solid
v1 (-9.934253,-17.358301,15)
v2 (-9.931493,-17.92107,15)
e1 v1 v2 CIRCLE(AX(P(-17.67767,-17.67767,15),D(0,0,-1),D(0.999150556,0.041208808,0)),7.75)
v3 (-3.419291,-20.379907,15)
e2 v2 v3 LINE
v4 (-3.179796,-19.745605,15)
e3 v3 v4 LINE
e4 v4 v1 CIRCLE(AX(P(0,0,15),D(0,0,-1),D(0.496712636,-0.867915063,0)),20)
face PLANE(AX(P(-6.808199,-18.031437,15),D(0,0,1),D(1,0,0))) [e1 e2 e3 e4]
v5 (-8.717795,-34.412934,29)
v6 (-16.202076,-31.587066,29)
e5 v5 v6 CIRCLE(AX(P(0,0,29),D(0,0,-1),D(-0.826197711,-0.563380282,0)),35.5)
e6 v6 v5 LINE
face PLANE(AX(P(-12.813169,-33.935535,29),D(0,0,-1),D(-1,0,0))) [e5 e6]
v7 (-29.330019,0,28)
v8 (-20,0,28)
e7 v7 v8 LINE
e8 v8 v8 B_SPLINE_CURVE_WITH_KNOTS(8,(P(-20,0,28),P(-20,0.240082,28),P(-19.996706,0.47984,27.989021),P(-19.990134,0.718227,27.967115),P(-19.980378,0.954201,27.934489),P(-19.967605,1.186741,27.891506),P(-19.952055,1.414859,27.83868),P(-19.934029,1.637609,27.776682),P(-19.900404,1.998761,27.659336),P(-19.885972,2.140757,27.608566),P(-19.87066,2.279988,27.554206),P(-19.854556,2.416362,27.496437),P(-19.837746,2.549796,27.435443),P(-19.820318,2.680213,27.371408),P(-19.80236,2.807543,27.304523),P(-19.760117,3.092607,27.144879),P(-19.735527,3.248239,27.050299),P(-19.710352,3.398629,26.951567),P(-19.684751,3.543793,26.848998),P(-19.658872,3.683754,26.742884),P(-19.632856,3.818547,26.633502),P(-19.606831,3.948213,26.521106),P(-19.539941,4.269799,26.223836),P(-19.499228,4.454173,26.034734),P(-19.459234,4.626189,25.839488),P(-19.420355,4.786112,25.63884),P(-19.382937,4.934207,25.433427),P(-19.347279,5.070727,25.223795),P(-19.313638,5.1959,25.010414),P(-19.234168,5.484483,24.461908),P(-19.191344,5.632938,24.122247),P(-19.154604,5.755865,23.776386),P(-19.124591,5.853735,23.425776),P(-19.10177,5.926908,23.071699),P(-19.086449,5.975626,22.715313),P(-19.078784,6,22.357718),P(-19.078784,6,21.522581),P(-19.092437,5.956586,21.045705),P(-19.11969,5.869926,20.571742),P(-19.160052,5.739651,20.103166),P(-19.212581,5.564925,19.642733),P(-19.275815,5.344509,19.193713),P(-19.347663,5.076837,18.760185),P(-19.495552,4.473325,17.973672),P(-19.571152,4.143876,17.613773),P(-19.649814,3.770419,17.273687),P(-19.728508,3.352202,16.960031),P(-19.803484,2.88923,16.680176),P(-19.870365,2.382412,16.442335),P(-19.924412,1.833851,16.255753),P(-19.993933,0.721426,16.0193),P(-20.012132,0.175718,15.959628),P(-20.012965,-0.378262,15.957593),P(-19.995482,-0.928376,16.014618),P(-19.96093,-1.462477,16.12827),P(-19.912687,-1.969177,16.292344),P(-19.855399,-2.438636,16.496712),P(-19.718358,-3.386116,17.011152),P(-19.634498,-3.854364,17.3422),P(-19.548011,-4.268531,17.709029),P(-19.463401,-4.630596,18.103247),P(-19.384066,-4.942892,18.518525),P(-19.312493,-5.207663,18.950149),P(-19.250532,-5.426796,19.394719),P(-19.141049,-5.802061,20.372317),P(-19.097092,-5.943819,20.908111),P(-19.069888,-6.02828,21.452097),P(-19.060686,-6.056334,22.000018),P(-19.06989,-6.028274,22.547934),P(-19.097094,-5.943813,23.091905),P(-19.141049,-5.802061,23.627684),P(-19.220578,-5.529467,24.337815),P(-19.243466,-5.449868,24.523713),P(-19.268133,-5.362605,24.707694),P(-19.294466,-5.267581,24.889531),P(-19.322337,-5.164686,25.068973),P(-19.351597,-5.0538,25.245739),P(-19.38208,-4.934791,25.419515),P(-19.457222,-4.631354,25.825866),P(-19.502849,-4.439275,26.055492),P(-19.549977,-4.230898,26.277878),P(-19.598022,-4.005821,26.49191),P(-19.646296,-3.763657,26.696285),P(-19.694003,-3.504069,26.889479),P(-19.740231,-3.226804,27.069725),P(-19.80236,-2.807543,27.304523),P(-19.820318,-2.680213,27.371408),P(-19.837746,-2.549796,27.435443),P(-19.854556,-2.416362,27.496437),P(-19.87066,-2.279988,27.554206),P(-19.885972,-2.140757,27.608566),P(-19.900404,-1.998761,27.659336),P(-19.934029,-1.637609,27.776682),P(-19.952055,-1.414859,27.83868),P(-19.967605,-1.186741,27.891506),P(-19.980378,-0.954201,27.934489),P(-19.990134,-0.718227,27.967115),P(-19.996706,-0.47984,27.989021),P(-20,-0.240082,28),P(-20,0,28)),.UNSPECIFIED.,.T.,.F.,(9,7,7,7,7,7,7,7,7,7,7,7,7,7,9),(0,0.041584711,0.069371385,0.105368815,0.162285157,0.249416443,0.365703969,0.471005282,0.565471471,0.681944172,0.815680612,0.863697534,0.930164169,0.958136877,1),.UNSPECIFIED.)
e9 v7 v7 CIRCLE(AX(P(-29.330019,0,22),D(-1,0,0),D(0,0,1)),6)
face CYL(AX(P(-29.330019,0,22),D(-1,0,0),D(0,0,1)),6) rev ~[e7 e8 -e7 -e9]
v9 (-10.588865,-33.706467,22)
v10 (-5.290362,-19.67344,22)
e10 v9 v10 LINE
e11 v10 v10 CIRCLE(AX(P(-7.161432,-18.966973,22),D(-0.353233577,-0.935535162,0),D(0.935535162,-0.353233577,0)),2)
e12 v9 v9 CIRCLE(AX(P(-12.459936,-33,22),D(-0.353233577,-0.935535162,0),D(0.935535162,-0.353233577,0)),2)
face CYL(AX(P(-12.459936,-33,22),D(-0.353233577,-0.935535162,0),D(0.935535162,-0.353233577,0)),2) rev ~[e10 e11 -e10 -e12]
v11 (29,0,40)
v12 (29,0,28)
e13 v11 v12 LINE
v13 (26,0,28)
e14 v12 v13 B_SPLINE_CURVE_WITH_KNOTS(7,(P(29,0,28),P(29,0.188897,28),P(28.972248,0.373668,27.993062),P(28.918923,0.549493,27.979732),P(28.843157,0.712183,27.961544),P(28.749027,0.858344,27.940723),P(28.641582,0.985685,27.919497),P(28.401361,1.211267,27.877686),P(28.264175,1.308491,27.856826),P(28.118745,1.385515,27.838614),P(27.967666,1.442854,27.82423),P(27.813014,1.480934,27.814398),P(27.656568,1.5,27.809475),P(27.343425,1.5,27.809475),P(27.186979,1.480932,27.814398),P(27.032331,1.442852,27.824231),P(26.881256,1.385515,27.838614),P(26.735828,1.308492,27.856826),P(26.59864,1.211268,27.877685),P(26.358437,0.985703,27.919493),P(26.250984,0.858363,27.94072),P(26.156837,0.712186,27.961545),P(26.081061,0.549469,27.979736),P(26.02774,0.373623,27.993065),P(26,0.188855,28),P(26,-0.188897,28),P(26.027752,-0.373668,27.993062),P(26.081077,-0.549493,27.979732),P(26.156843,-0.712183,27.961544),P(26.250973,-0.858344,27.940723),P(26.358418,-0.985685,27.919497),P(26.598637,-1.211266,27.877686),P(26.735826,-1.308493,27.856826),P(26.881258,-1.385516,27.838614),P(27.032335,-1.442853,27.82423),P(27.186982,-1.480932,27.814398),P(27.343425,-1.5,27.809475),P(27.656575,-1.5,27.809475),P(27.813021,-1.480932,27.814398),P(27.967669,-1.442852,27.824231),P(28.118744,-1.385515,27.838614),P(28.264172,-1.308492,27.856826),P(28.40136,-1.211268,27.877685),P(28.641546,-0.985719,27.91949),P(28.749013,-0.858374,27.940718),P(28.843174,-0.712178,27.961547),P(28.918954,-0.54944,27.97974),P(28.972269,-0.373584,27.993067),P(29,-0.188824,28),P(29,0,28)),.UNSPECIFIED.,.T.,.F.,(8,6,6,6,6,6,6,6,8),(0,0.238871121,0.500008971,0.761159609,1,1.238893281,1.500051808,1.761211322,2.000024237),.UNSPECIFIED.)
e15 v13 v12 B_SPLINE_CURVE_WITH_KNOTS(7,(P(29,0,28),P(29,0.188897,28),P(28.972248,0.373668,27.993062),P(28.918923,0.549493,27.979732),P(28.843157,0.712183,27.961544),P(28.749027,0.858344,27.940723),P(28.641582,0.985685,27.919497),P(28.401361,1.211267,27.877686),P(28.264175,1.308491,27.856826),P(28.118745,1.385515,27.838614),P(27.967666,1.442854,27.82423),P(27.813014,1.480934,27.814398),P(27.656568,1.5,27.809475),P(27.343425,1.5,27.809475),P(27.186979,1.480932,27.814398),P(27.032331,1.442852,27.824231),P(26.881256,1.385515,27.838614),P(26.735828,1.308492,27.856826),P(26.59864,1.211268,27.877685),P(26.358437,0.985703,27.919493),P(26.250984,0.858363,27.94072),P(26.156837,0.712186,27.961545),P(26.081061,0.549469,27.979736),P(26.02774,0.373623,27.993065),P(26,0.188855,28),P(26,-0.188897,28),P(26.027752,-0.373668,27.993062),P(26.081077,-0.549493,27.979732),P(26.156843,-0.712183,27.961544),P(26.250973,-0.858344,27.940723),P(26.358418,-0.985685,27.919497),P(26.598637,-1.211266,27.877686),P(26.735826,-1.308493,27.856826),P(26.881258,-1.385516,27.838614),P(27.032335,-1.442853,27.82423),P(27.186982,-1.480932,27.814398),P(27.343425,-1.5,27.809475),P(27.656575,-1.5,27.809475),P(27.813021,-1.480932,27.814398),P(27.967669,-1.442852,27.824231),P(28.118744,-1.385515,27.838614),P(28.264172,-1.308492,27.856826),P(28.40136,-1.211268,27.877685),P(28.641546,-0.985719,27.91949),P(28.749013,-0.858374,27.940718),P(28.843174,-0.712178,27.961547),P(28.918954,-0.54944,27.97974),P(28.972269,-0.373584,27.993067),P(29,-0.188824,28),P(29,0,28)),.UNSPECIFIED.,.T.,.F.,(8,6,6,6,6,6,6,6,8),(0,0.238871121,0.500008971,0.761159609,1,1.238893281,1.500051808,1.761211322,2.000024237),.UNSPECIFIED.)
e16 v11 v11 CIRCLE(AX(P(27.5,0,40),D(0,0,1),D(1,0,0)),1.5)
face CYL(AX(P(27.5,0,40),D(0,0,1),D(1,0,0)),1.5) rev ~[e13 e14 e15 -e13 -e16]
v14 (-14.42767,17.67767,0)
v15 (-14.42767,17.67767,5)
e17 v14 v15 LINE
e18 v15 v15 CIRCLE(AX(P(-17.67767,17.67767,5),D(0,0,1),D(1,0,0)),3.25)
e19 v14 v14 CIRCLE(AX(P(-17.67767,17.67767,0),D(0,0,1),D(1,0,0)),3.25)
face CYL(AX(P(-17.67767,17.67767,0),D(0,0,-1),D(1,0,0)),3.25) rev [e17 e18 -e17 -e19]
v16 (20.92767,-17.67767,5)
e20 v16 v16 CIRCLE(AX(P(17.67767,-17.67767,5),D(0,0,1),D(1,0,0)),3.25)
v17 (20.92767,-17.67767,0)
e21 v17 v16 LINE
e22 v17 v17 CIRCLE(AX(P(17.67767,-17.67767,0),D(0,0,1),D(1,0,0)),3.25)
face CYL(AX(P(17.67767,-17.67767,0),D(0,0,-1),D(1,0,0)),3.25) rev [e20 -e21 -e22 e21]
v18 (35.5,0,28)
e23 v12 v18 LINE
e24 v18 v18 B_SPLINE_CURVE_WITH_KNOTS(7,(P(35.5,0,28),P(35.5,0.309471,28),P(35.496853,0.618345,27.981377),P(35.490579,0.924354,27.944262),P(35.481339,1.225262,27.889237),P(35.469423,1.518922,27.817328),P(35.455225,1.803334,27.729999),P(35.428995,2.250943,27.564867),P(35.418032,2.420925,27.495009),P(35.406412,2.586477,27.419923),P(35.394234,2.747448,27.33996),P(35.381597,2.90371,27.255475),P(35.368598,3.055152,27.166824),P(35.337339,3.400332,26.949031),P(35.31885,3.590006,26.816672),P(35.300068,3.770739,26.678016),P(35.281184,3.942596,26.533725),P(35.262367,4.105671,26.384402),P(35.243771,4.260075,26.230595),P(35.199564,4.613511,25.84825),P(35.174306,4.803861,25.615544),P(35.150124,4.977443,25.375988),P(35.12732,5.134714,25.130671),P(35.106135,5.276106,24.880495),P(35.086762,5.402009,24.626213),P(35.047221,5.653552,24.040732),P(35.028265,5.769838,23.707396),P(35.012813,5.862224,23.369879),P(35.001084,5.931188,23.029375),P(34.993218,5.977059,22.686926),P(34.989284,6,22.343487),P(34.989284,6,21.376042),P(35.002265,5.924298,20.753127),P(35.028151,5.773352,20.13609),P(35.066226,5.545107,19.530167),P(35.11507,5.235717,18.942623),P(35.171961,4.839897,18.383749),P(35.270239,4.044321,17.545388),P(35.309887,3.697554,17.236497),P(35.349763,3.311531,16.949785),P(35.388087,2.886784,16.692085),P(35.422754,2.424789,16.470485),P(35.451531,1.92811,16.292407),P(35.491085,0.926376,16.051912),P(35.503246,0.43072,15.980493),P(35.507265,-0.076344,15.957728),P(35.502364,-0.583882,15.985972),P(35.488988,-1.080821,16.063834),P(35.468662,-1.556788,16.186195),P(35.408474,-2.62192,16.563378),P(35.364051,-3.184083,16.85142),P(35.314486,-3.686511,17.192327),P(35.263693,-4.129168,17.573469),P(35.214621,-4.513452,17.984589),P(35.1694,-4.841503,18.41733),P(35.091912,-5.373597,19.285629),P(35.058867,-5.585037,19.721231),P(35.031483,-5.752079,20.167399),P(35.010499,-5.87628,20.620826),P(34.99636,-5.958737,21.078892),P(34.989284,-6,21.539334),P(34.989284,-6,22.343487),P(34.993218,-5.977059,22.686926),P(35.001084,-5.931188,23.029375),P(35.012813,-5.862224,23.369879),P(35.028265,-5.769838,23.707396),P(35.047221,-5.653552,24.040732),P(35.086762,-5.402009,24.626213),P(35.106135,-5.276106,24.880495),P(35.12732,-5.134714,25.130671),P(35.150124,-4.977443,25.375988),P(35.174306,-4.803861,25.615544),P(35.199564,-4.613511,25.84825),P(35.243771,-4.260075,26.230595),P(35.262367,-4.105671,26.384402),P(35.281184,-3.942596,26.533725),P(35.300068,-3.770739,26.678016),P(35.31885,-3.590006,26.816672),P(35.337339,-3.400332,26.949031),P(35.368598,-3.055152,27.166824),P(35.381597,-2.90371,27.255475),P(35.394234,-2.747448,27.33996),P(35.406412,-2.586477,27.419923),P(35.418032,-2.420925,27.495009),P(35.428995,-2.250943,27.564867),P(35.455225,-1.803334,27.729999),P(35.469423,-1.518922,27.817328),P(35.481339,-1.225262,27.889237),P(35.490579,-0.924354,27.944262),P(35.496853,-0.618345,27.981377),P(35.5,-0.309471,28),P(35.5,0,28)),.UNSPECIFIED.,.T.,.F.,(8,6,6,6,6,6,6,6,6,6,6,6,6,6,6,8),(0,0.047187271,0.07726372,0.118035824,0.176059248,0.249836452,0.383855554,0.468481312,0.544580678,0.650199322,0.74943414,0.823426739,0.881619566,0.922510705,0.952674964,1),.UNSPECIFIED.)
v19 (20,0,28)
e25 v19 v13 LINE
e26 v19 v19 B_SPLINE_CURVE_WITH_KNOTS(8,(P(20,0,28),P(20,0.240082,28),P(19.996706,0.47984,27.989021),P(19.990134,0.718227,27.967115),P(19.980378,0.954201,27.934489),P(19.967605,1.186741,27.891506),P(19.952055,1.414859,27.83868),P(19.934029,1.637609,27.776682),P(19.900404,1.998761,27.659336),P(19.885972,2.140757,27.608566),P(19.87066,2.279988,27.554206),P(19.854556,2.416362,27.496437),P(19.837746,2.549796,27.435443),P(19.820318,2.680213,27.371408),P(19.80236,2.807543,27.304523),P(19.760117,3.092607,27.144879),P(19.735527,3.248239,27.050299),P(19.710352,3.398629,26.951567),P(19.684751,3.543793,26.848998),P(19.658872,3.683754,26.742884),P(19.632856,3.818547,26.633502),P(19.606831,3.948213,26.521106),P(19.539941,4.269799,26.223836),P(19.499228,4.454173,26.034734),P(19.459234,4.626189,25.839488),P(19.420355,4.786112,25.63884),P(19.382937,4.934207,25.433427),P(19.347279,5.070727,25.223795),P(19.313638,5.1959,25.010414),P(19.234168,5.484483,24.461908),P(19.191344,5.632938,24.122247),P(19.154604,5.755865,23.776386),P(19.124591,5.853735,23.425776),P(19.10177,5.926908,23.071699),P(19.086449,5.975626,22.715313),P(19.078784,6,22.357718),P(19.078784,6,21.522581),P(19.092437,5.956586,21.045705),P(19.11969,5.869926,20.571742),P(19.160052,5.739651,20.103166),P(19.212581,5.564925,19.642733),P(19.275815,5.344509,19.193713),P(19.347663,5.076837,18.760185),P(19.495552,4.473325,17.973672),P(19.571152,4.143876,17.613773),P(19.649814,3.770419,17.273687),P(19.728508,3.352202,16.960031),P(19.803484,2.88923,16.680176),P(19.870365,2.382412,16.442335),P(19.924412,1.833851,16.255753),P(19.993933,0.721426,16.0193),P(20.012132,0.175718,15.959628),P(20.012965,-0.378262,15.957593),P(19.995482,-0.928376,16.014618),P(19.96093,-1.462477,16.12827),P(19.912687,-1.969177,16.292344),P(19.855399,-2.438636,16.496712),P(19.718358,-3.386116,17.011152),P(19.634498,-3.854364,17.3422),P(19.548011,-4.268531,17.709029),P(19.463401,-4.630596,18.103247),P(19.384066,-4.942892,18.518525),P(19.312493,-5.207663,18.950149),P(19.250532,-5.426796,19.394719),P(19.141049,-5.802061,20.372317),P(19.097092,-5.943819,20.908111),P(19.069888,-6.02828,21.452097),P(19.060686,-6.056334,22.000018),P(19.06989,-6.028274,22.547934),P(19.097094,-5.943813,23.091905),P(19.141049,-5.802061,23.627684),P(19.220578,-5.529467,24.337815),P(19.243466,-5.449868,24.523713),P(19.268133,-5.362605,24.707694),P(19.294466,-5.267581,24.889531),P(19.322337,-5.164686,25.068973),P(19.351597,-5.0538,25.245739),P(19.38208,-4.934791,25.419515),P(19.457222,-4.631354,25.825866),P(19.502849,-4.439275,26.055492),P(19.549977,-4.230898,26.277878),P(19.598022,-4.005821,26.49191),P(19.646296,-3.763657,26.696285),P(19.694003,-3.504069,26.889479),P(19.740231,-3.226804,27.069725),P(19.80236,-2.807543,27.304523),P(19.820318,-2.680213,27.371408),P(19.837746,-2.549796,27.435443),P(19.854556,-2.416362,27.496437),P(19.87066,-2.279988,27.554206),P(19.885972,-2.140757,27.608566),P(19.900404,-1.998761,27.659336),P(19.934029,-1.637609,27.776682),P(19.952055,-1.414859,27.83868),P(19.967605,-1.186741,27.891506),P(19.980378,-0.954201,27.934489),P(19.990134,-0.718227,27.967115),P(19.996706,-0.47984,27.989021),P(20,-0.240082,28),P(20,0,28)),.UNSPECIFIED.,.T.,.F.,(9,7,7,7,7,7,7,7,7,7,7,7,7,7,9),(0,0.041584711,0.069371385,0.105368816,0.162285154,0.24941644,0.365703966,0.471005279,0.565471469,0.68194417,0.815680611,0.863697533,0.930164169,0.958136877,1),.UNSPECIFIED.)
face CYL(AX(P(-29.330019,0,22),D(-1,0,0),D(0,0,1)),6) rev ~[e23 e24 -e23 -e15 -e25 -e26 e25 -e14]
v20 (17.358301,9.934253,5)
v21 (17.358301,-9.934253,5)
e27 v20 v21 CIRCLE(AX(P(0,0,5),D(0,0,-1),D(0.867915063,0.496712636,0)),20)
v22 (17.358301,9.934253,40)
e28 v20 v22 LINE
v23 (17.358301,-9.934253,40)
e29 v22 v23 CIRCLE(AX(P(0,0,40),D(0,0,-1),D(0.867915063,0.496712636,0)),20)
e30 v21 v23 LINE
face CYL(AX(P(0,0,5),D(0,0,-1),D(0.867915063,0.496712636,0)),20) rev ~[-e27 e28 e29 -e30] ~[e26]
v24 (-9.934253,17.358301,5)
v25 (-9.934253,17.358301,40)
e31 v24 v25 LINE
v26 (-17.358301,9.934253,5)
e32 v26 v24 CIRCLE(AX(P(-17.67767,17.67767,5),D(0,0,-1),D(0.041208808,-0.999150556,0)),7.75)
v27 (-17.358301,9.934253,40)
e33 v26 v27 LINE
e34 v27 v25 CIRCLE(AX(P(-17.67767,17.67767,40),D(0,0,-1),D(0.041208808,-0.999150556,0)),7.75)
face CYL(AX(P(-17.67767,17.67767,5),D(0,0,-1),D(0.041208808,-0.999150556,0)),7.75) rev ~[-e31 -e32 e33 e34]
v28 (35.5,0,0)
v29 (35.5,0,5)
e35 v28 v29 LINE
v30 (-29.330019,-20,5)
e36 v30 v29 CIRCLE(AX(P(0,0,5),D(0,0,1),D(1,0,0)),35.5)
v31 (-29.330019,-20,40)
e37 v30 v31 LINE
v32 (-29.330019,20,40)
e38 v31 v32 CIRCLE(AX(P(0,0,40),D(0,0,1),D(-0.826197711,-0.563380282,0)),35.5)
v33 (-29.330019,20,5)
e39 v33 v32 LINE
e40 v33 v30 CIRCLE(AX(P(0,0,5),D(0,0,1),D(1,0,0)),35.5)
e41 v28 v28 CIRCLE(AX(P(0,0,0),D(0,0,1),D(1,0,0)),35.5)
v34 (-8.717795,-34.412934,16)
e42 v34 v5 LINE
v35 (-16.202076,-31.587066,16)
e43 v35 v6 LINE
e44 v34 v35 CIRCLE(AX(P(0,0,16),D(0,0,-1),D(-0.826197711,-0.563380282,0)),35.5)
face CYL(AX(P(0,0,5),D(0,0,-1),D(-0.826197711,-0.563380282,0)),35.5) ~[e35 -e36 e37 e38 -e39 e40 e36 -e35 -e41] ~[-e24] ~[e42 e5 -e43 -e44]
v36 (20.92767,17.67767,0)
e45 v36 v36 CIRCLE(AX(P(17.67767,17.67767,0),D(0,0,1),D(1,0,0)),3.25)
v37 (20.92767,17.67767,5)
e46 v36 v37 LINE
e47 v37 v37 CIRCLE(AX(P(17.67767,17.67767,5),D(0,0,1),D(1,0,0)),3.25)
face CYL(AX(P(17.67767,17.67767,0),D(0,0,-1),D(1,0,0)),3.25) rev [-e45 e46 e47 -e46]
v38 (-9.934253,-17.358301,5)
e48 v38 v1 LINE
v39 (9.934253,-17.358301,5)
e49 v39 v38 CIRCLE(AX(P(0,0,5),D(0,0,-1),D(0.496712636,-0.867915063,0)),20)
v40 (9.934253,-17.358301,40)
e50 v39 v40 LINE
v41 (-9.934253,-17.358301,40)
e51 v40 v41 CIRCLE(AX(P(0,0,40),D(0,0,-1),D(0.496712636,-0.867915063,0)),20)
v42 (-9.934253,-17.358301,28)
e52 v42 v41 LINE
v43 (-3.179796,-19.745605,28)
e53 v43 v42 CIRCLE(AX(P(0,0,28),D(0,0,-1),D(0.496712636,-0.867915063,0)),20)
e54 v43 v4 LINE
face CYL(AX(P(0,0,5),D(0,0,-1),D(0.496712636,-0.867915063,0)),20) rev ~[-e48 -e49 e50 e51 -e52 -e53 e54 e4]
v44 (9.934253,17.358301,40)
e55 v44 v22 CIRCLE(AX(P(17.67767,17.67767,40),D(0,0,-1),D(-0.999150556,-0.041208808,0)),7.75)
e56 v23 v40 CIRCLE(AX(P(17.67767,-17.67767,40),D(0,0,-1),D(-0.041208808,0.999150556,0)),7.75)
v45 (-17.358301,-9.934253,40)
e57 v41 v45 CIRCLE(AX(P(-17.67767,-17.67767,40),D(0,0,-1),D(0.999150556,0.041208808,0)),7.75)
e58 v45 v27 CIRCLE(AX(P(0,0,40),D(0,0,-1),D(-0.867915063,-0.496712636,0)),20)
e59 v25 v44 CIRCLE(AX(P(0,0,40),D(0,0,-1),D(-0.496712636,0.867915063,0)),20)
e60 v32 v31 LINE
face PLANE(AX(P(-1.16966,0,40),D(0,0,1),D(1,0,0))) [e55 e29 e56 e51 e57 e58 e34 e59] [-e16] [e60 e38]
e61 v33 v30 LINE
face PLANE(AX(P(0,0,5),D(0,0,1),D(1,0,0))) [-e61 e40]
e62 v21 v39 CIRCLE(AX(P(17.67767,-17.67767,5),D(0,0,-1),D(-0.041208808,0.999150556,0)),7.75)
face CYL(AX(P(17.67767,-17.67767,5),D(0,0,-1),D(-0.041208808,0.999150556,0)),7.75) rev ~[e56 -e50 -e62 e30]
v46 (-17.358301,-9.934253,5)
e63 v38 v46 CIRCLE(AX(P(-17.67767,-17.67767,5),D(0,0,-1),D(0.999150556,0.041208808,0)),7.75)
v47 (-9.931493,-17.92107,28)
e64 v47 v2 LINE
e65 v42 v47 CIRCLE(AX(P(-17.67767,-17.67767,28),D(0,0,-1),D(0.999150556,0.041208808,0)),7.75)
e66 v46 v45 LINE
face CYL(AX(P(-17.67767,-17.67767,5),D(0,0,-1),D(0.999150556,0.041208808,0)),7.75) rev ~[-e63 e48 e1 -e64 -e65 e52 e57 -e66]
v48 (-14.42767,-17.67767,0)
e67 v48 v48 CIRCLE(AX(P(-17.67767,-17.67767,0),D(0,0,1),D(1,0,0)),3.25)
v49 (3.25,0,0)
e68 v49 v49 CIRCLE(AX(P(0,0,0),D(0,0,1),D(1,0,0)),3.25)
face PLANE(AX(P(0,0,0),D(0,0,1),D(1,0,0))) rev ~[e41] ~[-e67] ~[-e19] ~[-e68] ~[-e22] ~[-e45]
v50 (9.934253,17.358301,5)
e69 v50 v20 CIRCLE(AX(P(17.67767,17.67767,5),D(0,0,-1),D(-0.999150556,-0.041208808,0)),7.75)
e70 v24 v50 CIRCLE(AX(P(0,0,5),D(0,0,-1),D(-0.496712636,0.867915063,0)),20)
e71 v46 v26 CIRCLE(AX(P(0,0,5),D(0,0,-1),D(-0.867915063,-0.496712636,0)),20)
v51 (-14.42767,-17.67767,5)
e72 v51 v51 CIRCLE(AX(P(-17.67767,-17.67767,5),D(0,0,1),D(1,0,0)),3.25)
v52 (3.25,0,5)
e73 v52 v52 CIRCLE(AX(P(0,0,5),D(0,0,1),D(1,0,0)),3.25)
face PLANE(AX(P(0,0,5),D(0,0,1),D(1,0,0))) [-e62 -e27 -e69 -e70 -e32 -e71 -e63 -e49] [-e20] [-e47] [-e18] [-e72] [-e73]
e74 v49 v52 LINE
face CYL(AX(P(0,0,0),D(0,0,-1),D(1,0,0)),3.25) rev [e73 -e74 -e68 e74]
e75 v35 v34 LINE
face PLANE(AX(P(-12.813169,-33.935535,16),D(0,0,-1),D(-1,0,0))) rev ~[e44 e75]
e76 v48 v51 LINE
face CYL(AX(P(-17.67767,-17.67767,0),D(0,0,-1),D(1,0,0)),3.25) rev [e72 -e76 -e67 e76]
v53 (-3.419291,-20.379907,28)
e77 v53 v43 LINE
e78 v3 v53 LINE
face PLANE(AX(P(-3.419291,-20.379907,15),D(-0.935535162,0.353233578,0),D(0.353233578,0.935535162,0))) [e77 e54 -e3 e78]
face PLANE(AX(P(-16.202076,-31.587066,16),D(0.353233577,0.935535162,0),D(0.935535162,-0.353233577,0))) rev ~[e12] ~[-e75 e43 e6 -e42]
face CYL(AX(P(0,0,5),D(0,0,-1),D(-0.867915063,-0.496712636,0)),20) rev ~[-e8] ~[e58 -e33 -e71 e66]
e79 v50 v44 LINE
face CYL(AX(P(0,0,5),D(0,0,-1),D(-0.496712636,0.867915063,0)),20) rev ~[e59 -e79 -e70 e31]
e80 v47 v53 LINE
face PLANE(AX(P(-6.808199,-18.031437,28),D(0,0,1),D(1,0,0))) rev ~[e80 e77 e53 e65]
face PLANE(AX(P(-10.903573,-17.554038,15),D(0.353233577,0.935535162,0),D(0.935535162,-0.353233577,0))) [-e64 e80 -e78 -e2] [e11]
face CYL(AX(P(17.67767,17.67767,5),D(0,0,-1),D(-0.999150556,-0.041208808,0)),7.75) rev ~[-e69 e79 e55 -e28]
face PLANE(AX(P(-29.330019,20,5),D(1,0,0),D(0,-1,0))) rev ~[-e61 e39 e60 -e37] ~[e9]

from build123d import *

# Parameters (mm, degrees)
CROQUIS1_R                   = 35.5
CROQUIS1_R_2                 = 3.25
SALIENTE_EXTRUIR1_DEPTH      = 5
SALIENTE_EXTRUIR2_DEPTH      = 35
CROQUIS3_R                   = 6
CORTAR_EXTRUIR1_DEPTH        = 65.830018752
CORTAR_EXTRUIR2_REACH        = 42
CROQUIS4_R                   = 1.5
CORTAR_EXTRUIR_L_MINA1_START = 11
CORTAR_EXTRUIR_L_MINA1_DEPTH = 13
CORTAR_EXTRUIR3_REACH        = 83.025
CROQUIS6_R                   = 2
CORTAR_EXTRUIR_L_MINA2_START = 10
CORTAR_EXTRUIR_L_MINA2_DEPTH = 13


with BuildPart() as part:
    # Croquis1 → Saliente-Extruir1 (new body)
    with BuildSketch(Plane.XY):
        Circle(CROQUIS1_R)
        with Locations((17.67766953, 17.67766953)):
            Circle(CROQUIS1_R_2, mode=Mode.SUBTRACT)
        with Locations((17.67766953, -17.67766953)):
            Circle(CROQUIS1_R_2, mode=Mode.SUBTRACT)
        with Locations((-17.67766953, -17.67766953)):
            Circle(CROQUIS1_R_2, mode=Mode.SUBTRACT)
        with Locations((-17.67766953, 17.67766953)):
            Circle(CROQUIS1_R_2, mode=Mode.SUBTRACT)
        Circle(CROQUIS1_R_2, mode=Mode.SUBTRACT)
    extrude(amount=SALIENTE_EXTRUIR1_DEPTH)

    # Croquis2 → Saliente-Extruir2 (add)
    with BuildSketch(Plane.XY.offset(5)):
        with BuildLine():
            ThreePointArc((-29.330018752, -20), (35.5, 0), (-29.330018752, 20))
            Line((-29.330018752, 20), (-29.330018752, -20))
        make_face()
        with BuildLine():
            ThreePointArc((-9.934252718, 17.358301269), (0, 20), (9.934252718, 17.358301268))
            ThreePointArc((9.934252718, 17.358301268), (23.157747084, 23.157747084), (17.358301268, 9.934252718))
            ThreePointArc((17.358301268, 9.934252718), (20, 0), (17.358301268, -9.934252718))
            ThreePointArc((17.358301268, -9.934252718), (23.157747084, -23.157747084), (9.934252718, -17.358301268))
            ThreePointArc((9.934252718, -17.358301268), (0, -20), (-9.934252718, -17.358301268))
            ThreePointArc((-9.934252718, -17.358301268), (-23.157747084, -23.157747084), (-17.358301268, -9.934252718))
            ThreePointArc((-17.358301268, -9.934252718), (-20, 0), (-17.358301269, 9.934252718))
            ThreePointArc((-17.358301269, 9.934252718), (-23.157747084, 23.157747084), (-9.934252718, 17.358301268))
        make_face(mode=Mode.SUBTRACT)
    extrude(amount=SALIENTE_EXTRUIR2_DEPTH)

    # Croquis3 → Cortar-Extruir1 (cut, through all)
    with BuildSketch(Plane.ZY.offset(29.330018752)):
        with Locations((22, 0)):
            Circle(CROQUIS3_R)
    extrude(amount=-CORTAR_EXTRUIR1_DEPTH, mode=Mode.SUBTRACT)

    # Croquis4 → Cortar-Extruir2 (cut, up to next)
    with BuildSketch(Plane.XY.offset(40), mode=Mode.PRIVATE) as cortar_extruir2_sk1:
        with Locations((27.5, 0)):
            Circle(CROQUIS4_R)
    cortar_extruir2_tool1 = extrude(cortar_extruir2_sk1.sketch, amount=-CORTAR_EXTRUIR2_REACH, mode=Mode.PRIVATE) & part.part
    add(cortar_extruir2_tool1.solids().sort_by_distance((27.5, 0, 40))[0], mode=Mode.SUBTRACT)

    # Croquis5 → Cortar-Extruir-Lámina1 (cut)
    with BuildSketch(Plane.XY.offset(5).offset(CORTAR_EXTRUIR_L_MINA1_START)):
        Polygon((-16.202076443, -31.58706569), (-8.717795145, -34.41293431), (-9.4242623, -36.284004634), (-16.908543598, -33.458136015), align=None)
    extrude(amount=CORTAR_EXTRUIR_L_MINA1_DEPTH, mode=Mode.SUBTRACT)

    # Croquis6 → Cortar-Extruir3 (cut, up to next)
    with BuildSketch(Plane(origin=(-12.459935794, -33, 0), x_dir=(0.935535162, -0.353233577, 0), z_dir=(-0.353233577, -0.935535162, 0)), mode=Mode.PRIVATE) as cortar_extruir3_sk1:
        with Locations((0, 22)):
            Circle(CROQUIS6_R)
    cortar_extruir3_tool1 = extrude(cortar_extruir3_sk1.sketch, amount=-CORTAR_EXTRUIR3_REACH, mode=Mode.PRIVATE) & part.part
    add(cortar_extruir3_tool1.solids().sort_by_distance((-12.459936, -33, 22))[0], mode=Mode.SUBTRACT)

    # Croquis7 → Cortar-Extruir-Lámina2 (cut)
    with BuildSketch(Plane.XY.offset(5).offset(CORTAR_EXTRUIR_L_MINA2_START)):
        Polygon((-10.903572782, -17.554038257), (-3.419291484, -20.379906876), (-2.712824329, -18.508836552), (-10.197105627, -15.682967932), align=None)
    extrude(amount=CORTAR_EXTRUIR_L_MINA2_DEPTH, mode=Mode.SUBTRACT)


solid = part.part
